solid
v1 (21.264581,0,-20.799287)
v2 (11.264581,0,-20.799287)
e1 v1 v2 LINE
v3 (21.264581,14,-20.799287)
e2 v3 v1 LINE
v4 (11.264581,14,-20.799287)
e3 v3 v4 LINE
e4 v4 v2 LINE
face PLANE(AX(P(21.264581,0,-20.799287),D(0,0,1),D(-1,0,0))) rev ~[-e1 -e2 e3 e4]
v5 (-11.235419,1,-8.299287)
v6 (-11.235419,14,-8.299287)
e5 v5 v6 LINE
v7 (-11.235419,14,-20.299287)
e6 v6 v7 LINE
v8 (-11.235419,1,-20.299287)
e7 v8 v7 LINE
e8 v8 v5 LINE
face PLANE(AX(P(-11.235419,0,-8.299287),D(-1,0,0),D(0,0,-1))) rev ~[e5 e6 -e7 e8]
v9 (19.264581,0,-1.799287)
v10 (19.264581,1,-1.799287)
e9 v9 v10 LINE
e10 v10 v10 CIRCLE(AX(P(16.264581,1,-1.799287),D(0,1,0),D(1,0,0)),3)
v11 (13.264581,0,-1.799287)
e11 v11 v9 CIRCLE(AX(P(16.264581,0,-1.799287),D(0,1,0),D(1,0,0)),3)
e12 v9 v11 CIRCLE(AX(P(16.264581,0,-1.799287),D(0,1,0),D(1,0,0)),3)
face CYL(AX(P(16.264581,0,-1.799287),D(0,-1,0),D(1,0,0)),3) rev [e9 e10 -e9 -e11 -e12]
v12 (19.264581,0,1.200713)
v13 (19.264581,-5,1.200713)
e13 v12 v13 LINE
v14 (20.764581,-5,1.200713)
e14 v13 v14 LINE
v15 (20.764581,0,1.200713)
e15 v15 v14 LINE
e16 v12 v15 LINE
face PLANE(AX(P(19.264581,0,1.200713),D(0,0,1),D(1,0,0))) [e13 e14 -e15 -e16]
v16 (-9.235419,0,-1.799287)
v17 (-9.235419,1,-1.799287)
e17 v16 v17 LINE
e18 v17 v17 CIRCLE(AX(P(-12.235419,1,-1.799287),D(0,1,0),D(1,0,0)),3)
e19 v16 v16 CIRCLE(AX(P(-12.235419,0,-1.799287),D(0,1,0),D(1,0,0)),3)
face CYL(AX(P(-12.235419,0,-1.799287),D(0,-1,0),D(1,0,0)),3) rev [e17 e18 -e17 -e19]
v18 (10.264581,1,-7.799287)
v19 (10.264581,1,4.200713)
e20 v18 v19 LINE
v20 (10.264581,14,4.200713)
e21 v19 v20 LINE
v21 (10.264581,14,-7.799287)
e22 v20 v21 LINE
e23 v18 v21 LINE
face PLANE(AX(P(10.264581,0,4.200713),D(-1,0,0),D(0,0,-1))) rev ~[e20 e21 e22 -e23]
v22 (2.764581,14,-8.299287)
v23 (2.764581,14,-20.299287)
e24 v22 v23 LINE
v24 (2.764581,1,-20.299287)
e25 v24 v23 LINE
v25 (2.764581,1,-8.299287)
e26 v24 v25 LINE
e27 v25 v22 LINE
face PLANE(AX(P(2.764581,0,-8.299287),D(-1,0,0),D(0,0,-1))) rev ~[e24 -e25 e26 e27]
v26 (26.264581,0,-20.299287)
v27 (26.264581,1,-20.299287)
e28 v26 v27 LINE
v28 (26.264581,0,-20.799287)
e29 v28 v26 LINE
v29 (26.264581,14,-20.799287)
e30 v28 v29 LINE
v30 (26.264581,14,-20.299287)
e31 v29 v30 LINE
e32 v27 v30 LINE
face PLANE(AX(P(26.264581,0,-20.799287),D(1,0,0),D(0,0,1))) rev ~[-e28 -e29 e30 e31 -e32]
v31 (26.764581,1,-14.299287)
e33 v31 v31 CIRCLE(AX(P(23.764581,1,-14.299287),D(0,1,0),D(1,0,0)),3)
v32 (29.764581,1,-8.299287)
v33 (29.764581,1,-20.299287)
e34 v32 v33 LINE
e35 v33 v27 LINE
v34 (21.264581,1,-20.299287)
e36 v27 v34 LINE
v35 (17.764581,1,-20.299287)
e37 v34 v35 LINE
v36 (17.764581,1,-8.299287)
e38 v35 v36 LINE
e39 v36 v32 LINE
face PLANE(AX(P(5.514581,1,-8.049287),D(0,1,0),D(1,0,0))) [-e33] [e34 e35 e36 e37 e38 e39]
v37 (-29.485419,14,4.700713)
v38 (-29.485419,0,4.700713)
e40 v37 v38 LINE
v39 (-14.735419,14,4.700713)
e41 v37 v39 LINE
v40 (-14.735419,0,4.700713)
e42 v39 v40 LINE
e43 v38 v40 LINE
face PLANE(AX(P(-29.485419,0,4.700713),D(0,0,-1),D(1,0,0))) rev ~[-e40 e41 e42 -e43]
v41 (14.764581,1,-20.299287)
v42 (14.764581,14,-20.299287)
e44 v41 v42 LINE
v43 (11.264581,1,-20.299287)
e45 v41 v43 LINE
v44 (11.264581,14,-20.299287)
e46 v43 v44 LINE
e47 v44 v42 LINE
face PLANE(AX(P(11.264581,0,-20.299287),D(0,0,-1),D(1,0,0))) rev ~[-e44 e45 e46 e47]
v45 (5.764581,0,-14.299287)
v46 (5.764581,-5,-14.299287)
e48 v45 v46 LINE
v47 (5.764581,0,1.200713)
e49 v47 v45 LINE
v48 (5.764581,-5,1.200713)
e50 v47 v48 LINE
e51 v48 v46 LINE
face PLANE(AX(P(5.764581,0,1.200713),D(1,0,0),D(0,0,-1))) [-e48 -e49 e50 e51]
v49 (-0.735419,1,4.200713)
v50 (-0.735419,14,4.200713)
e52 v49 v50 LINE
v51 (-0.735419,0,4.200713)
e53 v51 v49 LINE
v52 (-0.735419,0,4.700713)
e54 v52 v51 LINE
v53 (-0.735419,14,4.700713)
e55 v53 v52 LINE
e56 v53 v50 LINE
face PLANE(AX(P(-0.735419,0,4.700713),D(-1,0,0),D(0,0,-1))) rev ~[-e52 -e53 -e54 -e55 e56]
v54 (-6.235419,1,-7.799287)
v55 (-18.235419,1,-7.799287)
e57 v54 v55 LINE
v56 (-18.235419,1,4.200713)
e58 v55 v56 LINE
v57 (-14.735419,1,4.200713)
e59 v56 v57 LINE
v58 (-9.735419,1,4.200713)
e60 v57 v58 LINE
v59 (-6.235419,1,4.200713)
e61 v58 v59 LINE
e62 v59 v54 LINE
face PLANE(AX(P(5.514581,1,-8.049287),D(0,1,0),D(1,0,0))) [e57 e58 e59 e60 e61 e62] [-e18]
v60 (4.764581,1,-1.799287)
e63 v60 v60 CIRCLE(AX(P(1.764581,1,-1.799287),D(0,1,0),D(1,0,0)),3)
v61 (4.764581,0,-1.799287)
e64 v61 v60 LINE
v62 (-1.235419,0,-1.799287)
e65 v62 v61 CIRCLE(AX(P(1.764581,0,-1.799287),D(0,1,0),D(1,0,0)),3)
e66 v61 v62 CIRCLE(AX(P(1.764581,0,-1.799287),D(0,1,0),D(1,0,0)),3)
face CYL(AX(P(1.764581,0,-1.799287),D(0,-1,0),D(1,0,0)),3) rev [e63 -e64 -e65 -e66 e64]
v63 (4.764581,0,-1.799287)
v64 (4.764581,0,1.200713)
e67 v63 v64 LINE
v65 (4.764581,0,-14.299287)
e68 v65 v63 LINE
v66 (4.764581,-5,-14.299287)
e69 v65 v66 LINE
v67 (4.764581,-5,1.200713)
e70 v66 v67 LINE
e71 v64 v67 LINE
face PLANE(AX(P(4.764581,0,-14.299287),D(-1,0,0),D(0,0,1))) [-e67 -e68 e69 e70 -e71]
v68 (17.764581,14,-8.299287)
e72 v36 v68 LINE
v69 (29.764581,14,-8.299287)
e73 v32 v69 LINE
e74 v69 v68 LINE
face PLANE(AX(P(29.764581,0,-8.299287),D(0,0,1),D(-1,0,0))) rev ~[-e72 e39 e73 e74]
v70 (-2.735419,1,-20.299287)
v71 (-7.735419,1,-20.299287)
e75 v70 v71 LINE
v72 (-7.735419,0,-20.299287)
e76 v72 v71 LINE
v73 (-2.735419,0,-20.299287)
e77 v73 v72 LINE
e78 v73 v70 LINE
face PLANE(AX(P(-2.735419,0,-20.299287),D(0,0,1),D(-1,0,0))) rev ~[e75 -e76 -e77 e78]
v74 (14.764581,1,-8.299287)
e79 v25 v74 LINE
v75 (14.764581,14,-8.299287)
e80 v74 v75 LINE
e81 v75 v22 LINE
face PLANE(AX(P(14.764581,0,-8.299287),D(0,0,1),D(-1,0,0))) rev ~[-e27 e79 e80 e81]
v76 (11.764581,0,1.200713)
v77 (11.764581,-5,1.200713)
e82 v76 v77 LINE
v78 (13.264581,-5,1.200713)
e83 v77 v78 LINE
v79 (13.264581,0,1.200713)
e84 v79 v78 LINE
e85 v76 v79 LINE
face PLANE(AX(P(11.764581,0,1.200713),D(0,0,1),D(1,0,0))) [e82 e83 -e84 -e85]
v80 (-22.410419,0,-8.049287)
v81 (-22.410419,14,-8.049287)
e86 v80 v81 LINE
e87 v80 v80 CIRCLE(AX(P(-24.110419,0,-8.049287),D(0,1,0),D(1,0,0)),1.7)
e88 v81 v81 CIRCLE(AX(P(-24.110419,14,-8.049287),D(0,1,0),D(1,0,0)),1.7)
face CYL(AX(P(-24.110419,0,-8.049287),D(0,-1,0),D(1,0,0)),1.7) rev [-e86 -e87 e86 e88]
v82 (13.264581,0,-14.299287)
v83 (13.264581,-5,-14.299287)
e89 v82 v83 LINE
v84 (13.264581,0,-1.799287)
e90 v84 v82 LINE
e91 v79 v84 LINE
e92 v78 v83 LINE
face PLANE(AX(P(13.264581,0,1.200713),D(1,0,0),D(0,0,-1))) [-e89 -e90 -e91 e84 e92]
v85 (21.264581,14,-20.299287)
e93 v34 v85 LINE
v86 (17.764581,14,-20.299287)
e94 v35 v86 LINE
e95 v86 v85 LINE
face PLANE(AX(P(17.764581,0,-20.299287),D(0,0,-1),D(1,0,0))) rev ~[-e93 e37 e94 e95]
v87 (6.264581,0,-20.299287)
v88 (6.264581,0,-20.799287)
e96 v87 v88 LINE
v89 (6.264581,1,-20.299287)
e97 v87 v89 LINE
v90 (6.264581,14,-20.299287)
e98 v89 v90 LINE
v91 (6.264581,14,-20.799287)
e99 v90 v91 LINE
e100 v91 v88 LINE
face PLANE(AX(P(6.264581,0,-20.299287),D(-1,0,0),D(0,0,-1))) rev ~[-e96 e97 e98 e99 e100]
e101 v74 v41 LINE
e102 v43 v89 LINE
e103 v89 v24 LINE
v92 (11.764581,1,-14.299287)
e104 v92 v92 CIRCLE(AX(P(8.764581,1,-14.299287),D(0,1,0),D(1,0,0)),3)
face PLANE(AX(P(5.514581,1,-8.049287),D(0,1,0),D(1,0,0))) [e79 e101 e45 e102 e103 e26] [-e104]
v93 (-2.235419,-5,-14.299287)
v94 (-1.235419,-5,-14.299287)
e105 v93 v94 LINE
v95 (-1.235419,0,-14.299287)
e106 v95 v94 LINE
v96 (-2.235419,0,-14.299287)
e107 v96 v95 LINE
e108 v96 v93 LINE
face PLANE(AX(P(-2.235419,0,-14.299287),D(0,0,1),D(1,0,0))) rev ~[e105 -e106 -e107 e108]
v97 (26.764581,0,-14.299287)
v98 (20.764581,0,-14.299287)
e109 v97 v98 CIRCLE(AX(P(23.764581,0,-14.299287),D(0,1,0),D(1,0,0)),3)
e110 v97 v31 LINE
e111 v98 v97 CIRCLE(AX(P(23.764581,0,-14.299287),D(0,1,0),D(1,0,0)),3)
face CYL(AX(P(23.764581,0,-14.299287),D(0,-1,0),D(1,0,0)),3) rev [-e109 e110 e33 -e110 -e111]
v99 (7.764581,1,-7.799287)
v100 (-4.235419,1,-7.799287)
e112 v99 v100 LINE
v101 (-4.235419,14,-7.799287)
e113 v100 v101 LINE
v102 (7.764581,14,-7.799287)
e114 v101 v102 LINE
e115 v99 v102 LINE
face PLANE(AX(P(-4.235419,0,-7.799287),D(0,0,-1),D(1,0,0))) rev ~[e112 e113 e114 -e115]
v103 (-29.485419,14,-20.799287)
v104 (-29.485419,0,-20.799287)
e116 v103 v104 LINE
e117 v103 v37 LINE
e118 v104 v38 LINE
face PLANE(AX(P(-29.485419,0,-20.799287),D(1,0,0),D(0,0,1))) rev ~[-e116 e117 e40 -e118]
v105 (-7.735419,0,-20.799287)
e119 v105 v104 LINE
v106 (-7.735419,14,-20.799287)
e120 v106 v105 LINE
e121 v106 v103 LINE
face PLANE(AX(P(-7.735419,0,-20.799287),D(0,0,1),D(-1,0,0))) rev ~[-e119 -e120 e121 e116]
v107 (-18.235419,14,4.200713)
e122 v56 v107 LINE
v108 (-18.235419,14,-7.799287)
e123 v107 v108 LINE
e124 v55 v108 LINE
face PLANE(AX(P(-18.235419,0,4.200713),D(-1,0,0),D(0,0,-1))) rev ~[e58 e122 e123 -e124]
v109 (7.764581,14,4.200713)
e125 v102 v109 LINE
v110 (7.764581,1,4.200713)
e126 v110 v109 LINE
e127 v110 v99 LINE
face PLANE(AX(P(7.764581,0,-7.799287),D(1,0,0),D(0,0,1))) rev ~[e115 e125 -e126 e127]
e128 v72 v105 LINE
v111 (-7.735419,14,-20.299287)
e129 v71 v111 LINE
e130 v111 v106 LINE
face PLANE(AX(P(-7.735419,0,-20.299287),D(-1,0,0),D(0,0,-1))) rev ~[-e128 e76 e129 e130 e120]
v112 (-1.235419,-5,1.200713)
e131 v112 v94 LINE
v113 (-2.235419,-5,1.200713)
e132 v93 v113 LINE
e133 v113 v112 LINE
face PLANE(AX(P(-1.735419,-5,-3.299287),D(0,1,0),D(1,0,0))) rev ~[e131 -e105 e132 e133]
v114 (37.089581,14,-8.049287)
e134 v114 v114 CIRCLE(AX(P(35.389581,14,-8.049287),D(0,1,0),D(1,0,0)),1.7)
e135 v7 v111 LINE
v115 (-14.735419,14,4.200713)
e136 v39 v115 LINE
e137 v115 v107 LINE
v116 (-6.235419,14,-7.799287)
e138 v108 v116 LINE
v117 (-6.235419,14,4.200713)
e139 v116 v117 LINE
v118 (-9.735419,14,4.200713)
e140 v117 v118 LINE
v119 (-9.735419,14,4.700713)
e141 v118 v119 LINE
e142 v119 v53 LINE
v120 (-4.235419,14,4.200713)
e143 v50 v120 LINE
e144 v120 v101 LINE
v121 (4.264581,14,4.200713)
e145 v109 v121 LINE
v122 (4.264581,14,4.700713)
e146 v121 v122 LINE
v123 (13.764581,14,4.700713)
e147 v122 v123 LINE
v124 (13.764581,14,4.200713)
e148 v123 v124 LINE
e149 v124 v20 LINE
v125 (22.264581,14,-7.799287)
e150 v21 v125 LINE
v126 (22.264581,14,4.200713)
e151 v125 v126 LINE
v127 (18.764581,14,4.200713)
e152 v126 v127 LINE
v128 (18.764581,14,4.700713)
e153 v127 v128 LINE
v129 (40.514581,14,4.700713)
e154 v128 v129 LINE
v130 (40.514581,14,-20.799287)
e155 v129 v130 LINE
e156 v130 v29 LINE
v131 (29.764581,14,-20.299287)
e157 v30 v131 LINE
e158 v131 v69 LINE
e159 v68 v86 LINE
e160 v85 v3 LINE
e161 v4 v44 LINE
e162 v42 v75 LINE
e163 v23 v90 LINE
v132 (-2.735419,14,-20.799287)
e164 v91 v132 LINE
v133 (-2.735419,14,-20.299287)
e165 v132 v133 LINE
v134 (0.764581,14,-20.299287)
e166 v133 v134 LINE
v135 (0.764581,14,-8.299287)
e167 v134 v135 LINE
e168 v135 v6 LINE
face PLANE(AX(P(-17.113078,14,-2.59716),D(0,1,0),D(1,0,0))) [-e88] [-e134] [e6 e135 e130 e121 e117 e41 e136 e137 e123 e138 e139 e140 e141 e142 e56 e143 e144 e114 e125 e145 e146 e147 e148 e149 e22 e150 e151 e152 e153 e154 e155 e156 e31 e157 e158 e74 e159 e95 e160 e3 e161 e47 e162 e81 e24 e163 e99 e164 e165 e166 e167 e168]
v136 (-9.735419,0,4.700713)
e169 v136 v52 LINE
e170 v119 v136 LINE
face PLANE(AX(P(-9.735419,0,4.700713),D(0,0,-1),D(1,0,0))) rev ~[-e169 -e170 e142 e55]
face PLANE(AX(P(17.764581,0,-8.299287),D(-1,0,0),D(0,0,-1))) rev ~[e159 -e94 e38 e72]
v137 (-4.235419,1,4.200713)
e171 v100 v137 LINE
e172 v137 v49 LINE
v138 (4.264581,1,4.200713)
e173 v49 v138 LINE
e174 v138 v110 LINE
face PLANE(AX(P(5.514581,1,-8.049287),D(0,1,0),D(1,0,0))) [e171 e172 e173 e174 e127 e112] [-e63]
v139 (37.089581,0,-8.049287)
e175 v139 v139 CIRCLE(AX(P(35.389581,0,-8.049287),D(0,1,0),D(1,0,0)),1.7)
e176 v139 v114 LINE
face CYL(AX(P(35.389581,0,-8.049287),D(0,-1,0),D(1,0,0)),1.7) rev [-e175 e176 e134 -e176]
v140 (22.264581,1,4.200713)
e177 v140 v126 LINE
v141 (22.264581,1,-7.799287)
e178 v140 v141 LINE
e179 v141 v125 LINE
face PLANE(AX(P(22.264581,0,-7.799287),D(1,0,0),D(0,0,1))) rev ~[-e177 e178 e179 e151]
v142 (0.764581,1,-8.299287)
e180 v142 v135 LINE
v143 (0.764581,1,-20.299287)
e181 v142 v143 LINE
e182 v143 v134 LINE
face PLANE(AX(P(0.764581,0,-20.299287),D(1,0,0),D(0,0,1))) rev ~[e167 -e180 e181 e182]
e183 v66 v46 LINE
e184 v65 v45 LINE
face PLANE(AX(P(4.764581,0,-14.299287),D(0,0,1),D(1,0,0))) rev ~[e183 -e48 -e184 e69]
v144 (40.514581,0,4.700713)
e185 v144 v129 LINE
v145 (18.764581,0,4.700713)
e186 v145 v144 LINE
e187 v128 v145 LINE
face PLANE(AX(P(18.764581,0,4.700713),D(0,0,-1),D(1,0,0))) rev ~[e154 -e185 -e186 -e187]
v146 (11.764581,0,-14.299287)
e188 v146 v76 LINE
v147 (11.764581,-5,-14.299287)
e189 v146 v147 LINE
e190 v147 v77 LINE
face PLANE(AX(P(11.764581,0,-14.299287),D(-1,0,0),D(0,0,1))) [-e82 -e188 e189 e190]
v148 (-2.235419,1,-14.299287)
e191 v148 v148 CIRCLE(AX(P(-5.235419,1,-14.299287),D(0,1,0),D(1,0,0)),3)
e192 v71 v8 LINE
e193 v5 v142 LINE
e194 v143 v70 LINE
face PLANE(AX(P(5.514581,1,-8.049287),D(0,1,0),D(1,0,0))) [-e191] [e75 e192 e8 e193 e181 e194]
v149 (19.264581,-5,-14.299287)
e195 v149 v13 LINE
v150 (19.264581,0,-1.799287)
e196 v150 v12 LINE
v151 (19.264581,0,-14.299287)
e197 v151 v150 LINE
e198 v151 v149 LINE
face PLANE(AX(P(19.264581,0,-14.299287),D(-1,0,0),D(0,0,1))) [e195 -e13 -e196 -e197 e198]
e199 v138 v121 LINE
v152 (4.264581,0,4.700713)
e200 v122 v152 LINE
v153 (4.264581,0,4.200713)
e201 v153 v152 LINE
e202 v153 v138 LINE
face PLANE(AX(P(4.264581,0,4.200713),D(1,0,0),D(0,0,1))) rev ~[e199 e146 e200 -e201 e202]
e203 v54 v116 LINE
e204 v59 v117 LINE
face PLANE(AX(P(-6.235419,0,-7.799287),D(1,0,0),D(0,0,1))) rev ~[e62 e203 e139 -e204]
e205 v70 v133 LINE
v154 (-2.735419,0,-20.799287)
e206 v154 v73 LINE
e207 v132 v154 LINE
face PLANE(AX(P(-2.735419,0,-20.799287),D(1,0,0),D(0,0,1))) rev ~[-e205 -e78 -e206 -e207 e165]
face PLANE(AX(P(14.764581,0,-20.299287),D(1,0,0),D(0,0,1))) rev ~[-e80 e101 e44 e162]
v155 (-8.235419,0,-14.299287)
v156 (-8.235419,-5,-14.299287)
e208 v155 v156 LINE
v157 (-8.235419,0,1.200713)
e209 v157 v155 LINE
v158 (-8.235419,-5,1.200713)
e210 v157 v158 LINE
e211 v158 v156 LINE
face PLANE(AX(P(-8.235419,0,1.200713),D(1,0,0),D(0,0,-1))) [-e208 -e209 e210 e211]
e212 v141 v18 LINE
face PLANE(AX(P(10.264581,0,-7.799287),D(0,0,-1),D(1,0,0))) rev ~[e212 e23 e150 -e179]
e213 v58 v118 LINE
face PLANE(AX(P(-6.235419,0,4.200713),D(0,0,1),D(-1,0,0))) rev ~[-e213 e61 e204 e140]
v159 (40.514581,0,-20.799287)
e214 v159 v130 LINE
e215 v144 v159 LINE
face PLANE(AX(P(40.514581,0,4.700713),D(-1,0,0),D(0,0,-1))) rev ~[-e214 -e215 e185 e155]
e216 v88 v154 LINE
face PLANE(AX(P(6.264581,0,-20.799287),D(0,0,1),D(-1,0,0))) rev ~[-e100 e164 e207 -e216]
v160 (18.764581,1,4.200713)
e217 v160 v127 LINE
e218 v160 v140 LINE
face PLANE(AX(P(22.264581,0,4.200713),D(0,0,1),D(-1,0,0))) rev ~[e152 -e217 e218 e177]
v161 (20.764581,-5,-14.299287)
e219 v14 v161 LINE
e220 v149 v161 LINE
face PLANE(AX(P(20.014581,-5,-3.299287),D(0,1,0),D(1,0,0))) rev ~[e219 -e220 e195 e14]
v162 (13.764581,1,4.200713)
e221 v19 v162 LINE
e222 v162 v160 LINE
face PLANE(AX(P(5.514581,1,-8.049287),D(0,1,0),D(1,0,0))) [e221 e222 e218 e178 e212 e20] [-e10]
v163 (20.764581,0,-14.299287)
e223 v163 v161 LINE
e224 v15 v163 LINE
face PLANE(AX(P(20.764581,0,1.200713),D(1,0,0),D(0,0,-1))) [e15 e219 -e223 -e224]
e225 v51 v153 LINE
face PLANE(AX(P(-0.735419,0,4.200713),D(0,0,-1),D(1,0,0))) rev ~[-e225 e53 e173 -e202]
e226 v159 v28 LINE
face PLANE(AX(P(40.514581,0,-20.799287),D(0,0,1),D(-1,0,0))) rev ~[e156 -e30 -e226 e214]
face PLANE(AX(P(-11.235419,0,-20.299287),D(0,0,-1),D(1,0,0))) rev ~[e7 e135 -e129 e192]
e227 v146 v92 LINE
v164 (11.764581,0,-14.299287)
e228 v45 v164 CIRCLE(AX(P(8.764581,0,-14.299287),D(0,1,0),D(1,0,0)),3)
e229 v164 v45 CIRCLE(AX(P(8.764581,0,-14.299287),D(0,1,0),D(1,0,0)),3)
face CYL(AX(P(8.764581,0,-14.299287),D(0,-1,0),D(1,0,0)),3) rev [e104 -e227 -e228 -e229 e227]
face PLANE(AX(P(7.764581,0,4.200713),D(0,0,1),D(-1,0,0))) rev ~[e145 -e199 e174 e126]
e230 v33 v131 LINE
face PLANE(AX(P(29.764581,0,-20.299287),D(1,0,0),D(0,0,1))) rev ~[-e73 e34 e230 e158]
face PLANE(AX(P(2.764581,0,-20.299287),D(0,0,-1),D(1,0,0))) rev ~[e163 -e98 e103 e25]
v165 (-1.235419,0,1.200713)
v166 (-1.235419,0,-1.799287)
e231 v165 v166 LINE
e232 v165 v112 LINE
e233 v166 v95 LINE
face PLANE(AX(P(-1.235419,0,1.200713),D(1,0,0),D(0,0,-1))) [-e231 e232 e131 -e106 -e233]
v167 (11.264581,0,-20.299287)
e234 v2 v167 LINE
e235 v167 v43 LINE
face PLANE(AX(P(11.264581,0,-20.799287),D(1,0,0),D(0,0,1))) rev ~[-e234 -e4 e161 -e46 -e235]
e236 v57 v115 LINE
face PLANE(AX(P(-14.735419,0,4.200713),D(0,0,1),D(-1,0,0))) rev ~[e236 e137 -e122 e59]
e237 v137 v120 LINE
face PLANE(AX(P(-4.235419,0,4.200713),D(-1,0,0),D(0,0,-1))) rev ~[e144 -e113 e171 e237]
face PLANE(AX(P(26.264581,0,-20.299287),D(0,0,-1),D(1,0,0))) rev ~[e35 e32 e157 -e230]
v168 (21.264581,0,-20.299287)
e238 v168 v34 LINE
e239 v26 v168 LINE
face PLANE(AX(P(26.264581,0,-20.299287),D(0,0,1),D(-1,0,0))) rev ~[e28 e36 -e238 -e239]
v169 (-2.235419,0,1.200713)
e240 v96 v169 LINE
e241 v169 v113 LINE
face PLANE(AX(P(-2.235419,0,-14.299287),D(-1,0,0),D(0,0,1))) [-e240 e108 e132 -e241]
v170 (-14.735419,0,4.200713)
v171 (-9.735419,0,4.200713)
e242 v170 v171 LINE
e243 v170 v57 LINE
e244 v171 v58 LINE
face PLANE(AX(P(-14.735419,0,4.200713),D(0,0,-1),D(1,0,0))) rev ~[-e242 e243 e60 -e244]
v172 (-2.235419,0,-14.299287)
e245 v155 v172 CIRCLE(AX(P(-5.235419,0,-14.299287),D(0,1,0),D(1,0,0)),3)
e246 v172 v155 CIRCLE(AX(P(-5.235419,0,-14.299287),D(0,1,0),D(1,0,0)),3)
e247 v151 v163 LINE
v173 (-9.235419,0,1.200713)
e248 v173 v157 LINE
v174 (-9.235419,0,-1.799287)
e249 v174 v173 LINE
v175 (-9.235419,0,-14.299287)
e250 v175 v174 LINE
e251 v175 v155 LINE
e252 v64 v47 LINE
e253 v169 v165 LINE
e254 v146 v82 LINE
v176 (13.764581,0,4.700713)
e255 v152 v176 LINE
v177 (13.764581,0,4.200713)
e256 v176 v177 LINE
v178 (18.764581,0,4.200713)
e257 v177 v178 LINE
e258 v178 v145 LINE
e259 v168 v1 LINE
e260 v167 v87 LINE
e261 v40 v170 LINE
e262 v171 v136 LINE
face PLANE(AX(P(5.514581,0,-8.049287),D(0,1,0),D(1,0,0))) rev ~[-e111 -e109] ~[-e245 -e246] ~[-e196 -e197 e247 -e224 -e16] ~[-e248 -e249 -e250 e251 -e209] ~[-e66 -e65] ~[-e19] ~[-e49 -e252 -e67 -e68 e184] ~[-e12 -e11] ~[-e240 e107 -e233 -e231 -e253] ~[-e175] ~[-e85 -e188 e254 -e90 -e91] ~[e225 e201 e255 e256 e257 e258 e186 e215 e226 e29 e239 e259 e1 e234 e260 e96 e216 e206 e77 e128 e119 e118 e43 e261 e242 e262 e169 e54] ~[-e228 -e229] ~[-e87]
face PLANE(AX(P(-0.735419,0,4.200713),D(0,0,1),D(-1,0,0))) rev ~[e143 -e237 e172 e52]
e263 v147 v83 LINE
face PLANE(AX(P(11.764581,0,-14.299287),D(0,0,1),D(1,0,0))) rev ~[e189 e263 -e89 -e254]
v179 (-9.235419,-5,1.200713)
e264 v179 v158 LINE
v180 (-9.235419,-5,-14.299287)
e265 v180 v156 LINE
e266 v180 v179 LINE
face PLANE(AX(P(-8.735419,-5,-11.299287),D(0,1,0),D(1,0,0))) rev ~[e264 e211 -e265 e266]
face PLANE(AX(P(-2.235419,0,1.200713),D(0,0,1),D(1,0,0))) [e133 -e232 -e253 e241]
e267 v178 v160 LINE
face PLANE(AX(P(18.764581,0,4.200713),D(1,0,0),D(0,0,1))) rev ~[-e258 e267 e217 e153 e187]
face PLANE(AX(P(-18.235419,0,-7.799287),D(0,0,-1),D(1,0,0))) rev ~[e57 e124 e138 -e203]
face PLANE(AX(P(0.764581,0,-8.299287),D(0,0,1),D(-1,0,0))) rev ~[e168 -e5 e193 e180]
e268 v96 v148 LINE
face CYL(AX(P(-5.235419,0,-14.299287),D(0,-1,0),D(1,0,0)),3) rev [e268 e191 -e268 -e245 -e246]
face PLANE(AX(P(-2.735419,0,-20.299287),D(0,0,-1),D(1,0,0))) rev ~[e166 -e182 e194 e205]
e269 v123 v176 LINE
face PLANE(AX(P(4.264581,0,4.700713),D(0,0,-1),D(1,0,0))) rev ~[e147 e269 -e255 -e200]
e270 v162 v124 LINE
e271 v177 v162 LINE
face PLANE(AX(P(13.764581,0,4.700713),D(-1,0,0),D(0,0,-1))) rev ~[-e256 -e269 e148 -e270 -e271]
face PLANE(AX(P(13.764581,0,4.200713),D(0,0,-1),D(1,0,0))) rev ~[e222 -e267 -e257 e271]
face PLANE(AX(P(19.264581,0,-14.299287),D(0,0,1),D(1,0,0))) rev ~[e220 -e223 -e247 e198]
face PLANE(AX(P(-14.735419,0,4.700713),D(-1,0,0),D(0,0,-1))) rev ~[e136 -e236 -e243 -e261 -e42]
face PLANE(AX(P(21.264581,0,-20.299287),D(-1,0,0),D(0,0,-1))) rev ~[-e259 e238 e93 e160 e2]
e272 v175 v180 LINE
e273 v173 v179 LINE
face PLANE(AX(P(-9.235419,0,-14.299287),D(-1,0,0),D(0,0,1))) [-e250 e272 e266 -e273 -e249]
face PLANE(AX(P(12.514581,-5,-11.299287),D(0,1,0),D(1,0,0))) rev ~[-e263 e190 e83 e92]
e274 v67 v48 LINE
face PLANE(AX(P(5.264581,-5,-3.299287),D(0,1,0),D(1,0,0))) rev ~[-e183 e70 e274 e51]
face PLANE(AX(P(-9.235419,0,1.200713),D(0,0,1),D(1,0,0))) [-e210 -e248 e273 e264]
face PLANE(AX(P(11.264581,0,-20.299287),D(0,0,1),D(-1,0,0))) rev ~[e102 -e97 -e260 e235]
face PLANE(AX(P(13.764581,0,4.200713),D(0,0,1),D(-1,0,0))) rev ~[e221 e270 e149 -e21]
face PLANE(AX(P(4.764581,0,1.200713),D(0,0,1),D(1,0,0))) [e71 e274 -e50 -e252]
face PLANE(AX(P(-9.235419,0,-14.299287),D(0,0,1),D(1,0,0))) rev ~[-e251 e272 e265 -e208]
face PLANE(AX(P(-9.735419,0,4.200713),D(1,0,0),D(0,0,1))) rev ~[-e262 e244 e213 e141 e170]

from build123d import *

# Parameters (mm, degrees)
SKETCH1_R           = 3
SKETCH1_R_2         = 1.7
BOSS_EXTRUDE1_DEPTH = 1
SKETCH1_4_R         = 1.7
BOSS_EXTRUDE2_DEPTH = 14
SKETCH1_5_W         = 1
SKETCH1_5_H         = 15.5
SKETCH1_5_W_2       = 1.5
BOSS_EXTRUDE3_DEPTH = 5


with BuildPart() as part:
    # Sketch1 → Boss-Extrude1 (new body)
    with BuildSketch(Plane(origin=(0, 0, 0), x_dir=(1, 0, 0), z_dir=(0, 1, 0))):
        Polygon((-14.735418885, -4.200712669), (-9.735418885, -4.200712669), (-9.735418885, -4.700712669), (-4.735418885, -4.700712669), (-0.735418885, -4.700712669), (-0.735418885, -4.200712669), (4.264581115, -4.200712669), (4.264581115, -4.700712669), (13.764581115, -4.700712669), (13.764581115, -4.200712669), (18.764581115, -4.200712669), (18.764581115, -4.700712669), (40.514581115, -4.700712669), (40.514581115, 20.799287331), (26.264581115, 20.799287331), (26.264581115, 20.299287331), (21.264581115, 20.299287331), (21.264581115, 20.799287331), (11.264581115, 20.799287331), (11.264581115, 20.299287331), (6.264581115, 20.299287331), (6.264581115, 20.799287331), (1.264581115, 20.799287331), (-2.735418885, 20.799287331), (-2.735418885, 20.299287331), (-7.735418885, 20.299287331), (-7.735418885, 20.799287331), (-29.485418885, 20.799287331), (-29.485418885, -4.700712669), (-14.735418885, -4.700712669), align=None)
        with Locations((-12.235418885, 1.799287331)):
            Circle(SKETCH1_R, mode=Mode.SUBTRACT)
        with Locations((-24.110418885, 8.049287331)):
            Circle(SKETCH1_R_2, mode=Mode.SUBTRACT)
        with Locations((-5.235418885, 14.299287331)):
            Circle(SKETCH1_R, mode=Mode.SUBTRACT)
        with Locations((1.764581115, 1.799287331)):
            Circle(SKETCH1_R, mode=Mode.SUBTRACT)
        with Locations((8.764581115, 14.299287331)):
            Circle(SKETCH1_R, mode=Mode.SUBTRACT)
        with Locations((16.264581115, 1.799287331)):
            Circle(SKETCH1_R, mode=Mode.SUBTRACT)
        with Locations((23.764581115, 14.299287331)):
            Circle(SKETCH1_R, mode=Mode.SUBTRACT)
        with Locations((35.389581115, 8.049287331)):
            Circle(SKETCH1_R_2, mode=Mode.SUBTRACT)
    extrude(amount=BOSS_EXTRUDE1_DEPTH)

    # Sketch1<4> → Boss-Extrude2 (add)
    with BuildSketch(Plane(origin=(0, 0, 0), x_dir=(1, 0, 0), z_dir=(0, 1, 0))):
        Polygon((-18.235418885, -4.200712669), (-18.235418885, 7.799287331), (-6.235418885, 7.799287331), (-6.235418885, -4.200712669), (-9.735418885, -4.200712669), (-9.735418885, -4.700712669), (-4.735418885, -4.700712669), (-0.735418885, -4.700712669), (-0.735418885, -4.200712669), (-4.235418885, -4.200712669), (-4.235418885, 7.799287331), (1.264581115, 7.799287331), (7.764581115, 7.799287331), (7.764581115, -4.200712669), (4.264581115, -4.200712669), (4.264581115, -4.700712669), (13.764581115, -4.700712669), (13.764581115, -4.200712669), (10.264581115, -4.200712669), (10.264581115, 7.799287331), (22.264581115, 7.799287331), (22.264581115, -4.200712669), (18.764581115, -4.200712669), (18.764581115, -4.700712669), (40.514581115, -4.700712669), (40.514581115, 20.799287331), (26.264581115, 20.799287331), (26.264581115, 20.299287331), (29.764581115, 20.299287331), (29.764581115, 8.299287331), (17.764581115, 8.299287331), (17.764581115, 20.299287331), (21.264581115, 20.299287331), (21.264581115, 20.799287331), (11.264581115, 20.799287331), (11.264581115, 20.299287331), (14.764581115, 20.299287331), (14.764581115, 8.299287331), (2.764581115, 8.299287331), (2.764581115, 20.299287331), (6.264581115, 20.299287331), (6.264581115, 20.799287331), (1.264581115, 20.799287331), (-2.735418885, 20.799287331), (-2.735418885, 20.299287331), (0.764581115, 20.299287331), (0.764581115, 8.299287331), (-11.235418885, 8.299287331), (-11.235418885, 20.299287331), (-7.735418885, 20.299287331), (-7.735418885, 20.799287331), (-29.485418885, 20.799287331), (-29.485418885, -4.700712669), (-14.735418885, -4.700712669), (-14.735418885, -4.200712669), align=None)
        with Locations((-24.110418885, 8.049287331)):
            Circle(SKETCH1_4_R, mode=Mode.SUBTRACT)
        with Locations((35.389581115, 8.049287331)):
            Circle(SKETCH1_4_R, mode=Mode.SUBTRACT)
    extrude(amount=BOSS_EXTRUDE2_DEPTH)

    # Sketch1<5> → Boss-Extrude3 (add)
    with BuildSketch(Plane(origin=(0, 0, 0), x_dir=(1, 0, 0), z_dir=(0, 1, 0))):
        with Locations((-8.735418885, 6.549287331)):
            Rectangle(SKETCH1_5_W, SKETCH1_5_H)
        with Locations((-1.735418885, 6.549287331)):
            Rectangle(SKETCH1_5_W, SKETCH1_5_H)
        with Locations((5.264581115, 6.549287331)):
            Rectangle(SKETCH1_5_W, SKETCH1_5_H)
        with Locations((12.514581115, 6.549287331)):
            Rectangle(SKETCH1_5_W_2, SKETCH1_5_H)
        with Locations((20.014581115, 6.549287331)):
            Rectangle(SKETCH1_5_W_2, SKETCH1_5_H)
    extrude(amount=-BOSS_EXTRUDE3_DEPTH)


solid = part.part
